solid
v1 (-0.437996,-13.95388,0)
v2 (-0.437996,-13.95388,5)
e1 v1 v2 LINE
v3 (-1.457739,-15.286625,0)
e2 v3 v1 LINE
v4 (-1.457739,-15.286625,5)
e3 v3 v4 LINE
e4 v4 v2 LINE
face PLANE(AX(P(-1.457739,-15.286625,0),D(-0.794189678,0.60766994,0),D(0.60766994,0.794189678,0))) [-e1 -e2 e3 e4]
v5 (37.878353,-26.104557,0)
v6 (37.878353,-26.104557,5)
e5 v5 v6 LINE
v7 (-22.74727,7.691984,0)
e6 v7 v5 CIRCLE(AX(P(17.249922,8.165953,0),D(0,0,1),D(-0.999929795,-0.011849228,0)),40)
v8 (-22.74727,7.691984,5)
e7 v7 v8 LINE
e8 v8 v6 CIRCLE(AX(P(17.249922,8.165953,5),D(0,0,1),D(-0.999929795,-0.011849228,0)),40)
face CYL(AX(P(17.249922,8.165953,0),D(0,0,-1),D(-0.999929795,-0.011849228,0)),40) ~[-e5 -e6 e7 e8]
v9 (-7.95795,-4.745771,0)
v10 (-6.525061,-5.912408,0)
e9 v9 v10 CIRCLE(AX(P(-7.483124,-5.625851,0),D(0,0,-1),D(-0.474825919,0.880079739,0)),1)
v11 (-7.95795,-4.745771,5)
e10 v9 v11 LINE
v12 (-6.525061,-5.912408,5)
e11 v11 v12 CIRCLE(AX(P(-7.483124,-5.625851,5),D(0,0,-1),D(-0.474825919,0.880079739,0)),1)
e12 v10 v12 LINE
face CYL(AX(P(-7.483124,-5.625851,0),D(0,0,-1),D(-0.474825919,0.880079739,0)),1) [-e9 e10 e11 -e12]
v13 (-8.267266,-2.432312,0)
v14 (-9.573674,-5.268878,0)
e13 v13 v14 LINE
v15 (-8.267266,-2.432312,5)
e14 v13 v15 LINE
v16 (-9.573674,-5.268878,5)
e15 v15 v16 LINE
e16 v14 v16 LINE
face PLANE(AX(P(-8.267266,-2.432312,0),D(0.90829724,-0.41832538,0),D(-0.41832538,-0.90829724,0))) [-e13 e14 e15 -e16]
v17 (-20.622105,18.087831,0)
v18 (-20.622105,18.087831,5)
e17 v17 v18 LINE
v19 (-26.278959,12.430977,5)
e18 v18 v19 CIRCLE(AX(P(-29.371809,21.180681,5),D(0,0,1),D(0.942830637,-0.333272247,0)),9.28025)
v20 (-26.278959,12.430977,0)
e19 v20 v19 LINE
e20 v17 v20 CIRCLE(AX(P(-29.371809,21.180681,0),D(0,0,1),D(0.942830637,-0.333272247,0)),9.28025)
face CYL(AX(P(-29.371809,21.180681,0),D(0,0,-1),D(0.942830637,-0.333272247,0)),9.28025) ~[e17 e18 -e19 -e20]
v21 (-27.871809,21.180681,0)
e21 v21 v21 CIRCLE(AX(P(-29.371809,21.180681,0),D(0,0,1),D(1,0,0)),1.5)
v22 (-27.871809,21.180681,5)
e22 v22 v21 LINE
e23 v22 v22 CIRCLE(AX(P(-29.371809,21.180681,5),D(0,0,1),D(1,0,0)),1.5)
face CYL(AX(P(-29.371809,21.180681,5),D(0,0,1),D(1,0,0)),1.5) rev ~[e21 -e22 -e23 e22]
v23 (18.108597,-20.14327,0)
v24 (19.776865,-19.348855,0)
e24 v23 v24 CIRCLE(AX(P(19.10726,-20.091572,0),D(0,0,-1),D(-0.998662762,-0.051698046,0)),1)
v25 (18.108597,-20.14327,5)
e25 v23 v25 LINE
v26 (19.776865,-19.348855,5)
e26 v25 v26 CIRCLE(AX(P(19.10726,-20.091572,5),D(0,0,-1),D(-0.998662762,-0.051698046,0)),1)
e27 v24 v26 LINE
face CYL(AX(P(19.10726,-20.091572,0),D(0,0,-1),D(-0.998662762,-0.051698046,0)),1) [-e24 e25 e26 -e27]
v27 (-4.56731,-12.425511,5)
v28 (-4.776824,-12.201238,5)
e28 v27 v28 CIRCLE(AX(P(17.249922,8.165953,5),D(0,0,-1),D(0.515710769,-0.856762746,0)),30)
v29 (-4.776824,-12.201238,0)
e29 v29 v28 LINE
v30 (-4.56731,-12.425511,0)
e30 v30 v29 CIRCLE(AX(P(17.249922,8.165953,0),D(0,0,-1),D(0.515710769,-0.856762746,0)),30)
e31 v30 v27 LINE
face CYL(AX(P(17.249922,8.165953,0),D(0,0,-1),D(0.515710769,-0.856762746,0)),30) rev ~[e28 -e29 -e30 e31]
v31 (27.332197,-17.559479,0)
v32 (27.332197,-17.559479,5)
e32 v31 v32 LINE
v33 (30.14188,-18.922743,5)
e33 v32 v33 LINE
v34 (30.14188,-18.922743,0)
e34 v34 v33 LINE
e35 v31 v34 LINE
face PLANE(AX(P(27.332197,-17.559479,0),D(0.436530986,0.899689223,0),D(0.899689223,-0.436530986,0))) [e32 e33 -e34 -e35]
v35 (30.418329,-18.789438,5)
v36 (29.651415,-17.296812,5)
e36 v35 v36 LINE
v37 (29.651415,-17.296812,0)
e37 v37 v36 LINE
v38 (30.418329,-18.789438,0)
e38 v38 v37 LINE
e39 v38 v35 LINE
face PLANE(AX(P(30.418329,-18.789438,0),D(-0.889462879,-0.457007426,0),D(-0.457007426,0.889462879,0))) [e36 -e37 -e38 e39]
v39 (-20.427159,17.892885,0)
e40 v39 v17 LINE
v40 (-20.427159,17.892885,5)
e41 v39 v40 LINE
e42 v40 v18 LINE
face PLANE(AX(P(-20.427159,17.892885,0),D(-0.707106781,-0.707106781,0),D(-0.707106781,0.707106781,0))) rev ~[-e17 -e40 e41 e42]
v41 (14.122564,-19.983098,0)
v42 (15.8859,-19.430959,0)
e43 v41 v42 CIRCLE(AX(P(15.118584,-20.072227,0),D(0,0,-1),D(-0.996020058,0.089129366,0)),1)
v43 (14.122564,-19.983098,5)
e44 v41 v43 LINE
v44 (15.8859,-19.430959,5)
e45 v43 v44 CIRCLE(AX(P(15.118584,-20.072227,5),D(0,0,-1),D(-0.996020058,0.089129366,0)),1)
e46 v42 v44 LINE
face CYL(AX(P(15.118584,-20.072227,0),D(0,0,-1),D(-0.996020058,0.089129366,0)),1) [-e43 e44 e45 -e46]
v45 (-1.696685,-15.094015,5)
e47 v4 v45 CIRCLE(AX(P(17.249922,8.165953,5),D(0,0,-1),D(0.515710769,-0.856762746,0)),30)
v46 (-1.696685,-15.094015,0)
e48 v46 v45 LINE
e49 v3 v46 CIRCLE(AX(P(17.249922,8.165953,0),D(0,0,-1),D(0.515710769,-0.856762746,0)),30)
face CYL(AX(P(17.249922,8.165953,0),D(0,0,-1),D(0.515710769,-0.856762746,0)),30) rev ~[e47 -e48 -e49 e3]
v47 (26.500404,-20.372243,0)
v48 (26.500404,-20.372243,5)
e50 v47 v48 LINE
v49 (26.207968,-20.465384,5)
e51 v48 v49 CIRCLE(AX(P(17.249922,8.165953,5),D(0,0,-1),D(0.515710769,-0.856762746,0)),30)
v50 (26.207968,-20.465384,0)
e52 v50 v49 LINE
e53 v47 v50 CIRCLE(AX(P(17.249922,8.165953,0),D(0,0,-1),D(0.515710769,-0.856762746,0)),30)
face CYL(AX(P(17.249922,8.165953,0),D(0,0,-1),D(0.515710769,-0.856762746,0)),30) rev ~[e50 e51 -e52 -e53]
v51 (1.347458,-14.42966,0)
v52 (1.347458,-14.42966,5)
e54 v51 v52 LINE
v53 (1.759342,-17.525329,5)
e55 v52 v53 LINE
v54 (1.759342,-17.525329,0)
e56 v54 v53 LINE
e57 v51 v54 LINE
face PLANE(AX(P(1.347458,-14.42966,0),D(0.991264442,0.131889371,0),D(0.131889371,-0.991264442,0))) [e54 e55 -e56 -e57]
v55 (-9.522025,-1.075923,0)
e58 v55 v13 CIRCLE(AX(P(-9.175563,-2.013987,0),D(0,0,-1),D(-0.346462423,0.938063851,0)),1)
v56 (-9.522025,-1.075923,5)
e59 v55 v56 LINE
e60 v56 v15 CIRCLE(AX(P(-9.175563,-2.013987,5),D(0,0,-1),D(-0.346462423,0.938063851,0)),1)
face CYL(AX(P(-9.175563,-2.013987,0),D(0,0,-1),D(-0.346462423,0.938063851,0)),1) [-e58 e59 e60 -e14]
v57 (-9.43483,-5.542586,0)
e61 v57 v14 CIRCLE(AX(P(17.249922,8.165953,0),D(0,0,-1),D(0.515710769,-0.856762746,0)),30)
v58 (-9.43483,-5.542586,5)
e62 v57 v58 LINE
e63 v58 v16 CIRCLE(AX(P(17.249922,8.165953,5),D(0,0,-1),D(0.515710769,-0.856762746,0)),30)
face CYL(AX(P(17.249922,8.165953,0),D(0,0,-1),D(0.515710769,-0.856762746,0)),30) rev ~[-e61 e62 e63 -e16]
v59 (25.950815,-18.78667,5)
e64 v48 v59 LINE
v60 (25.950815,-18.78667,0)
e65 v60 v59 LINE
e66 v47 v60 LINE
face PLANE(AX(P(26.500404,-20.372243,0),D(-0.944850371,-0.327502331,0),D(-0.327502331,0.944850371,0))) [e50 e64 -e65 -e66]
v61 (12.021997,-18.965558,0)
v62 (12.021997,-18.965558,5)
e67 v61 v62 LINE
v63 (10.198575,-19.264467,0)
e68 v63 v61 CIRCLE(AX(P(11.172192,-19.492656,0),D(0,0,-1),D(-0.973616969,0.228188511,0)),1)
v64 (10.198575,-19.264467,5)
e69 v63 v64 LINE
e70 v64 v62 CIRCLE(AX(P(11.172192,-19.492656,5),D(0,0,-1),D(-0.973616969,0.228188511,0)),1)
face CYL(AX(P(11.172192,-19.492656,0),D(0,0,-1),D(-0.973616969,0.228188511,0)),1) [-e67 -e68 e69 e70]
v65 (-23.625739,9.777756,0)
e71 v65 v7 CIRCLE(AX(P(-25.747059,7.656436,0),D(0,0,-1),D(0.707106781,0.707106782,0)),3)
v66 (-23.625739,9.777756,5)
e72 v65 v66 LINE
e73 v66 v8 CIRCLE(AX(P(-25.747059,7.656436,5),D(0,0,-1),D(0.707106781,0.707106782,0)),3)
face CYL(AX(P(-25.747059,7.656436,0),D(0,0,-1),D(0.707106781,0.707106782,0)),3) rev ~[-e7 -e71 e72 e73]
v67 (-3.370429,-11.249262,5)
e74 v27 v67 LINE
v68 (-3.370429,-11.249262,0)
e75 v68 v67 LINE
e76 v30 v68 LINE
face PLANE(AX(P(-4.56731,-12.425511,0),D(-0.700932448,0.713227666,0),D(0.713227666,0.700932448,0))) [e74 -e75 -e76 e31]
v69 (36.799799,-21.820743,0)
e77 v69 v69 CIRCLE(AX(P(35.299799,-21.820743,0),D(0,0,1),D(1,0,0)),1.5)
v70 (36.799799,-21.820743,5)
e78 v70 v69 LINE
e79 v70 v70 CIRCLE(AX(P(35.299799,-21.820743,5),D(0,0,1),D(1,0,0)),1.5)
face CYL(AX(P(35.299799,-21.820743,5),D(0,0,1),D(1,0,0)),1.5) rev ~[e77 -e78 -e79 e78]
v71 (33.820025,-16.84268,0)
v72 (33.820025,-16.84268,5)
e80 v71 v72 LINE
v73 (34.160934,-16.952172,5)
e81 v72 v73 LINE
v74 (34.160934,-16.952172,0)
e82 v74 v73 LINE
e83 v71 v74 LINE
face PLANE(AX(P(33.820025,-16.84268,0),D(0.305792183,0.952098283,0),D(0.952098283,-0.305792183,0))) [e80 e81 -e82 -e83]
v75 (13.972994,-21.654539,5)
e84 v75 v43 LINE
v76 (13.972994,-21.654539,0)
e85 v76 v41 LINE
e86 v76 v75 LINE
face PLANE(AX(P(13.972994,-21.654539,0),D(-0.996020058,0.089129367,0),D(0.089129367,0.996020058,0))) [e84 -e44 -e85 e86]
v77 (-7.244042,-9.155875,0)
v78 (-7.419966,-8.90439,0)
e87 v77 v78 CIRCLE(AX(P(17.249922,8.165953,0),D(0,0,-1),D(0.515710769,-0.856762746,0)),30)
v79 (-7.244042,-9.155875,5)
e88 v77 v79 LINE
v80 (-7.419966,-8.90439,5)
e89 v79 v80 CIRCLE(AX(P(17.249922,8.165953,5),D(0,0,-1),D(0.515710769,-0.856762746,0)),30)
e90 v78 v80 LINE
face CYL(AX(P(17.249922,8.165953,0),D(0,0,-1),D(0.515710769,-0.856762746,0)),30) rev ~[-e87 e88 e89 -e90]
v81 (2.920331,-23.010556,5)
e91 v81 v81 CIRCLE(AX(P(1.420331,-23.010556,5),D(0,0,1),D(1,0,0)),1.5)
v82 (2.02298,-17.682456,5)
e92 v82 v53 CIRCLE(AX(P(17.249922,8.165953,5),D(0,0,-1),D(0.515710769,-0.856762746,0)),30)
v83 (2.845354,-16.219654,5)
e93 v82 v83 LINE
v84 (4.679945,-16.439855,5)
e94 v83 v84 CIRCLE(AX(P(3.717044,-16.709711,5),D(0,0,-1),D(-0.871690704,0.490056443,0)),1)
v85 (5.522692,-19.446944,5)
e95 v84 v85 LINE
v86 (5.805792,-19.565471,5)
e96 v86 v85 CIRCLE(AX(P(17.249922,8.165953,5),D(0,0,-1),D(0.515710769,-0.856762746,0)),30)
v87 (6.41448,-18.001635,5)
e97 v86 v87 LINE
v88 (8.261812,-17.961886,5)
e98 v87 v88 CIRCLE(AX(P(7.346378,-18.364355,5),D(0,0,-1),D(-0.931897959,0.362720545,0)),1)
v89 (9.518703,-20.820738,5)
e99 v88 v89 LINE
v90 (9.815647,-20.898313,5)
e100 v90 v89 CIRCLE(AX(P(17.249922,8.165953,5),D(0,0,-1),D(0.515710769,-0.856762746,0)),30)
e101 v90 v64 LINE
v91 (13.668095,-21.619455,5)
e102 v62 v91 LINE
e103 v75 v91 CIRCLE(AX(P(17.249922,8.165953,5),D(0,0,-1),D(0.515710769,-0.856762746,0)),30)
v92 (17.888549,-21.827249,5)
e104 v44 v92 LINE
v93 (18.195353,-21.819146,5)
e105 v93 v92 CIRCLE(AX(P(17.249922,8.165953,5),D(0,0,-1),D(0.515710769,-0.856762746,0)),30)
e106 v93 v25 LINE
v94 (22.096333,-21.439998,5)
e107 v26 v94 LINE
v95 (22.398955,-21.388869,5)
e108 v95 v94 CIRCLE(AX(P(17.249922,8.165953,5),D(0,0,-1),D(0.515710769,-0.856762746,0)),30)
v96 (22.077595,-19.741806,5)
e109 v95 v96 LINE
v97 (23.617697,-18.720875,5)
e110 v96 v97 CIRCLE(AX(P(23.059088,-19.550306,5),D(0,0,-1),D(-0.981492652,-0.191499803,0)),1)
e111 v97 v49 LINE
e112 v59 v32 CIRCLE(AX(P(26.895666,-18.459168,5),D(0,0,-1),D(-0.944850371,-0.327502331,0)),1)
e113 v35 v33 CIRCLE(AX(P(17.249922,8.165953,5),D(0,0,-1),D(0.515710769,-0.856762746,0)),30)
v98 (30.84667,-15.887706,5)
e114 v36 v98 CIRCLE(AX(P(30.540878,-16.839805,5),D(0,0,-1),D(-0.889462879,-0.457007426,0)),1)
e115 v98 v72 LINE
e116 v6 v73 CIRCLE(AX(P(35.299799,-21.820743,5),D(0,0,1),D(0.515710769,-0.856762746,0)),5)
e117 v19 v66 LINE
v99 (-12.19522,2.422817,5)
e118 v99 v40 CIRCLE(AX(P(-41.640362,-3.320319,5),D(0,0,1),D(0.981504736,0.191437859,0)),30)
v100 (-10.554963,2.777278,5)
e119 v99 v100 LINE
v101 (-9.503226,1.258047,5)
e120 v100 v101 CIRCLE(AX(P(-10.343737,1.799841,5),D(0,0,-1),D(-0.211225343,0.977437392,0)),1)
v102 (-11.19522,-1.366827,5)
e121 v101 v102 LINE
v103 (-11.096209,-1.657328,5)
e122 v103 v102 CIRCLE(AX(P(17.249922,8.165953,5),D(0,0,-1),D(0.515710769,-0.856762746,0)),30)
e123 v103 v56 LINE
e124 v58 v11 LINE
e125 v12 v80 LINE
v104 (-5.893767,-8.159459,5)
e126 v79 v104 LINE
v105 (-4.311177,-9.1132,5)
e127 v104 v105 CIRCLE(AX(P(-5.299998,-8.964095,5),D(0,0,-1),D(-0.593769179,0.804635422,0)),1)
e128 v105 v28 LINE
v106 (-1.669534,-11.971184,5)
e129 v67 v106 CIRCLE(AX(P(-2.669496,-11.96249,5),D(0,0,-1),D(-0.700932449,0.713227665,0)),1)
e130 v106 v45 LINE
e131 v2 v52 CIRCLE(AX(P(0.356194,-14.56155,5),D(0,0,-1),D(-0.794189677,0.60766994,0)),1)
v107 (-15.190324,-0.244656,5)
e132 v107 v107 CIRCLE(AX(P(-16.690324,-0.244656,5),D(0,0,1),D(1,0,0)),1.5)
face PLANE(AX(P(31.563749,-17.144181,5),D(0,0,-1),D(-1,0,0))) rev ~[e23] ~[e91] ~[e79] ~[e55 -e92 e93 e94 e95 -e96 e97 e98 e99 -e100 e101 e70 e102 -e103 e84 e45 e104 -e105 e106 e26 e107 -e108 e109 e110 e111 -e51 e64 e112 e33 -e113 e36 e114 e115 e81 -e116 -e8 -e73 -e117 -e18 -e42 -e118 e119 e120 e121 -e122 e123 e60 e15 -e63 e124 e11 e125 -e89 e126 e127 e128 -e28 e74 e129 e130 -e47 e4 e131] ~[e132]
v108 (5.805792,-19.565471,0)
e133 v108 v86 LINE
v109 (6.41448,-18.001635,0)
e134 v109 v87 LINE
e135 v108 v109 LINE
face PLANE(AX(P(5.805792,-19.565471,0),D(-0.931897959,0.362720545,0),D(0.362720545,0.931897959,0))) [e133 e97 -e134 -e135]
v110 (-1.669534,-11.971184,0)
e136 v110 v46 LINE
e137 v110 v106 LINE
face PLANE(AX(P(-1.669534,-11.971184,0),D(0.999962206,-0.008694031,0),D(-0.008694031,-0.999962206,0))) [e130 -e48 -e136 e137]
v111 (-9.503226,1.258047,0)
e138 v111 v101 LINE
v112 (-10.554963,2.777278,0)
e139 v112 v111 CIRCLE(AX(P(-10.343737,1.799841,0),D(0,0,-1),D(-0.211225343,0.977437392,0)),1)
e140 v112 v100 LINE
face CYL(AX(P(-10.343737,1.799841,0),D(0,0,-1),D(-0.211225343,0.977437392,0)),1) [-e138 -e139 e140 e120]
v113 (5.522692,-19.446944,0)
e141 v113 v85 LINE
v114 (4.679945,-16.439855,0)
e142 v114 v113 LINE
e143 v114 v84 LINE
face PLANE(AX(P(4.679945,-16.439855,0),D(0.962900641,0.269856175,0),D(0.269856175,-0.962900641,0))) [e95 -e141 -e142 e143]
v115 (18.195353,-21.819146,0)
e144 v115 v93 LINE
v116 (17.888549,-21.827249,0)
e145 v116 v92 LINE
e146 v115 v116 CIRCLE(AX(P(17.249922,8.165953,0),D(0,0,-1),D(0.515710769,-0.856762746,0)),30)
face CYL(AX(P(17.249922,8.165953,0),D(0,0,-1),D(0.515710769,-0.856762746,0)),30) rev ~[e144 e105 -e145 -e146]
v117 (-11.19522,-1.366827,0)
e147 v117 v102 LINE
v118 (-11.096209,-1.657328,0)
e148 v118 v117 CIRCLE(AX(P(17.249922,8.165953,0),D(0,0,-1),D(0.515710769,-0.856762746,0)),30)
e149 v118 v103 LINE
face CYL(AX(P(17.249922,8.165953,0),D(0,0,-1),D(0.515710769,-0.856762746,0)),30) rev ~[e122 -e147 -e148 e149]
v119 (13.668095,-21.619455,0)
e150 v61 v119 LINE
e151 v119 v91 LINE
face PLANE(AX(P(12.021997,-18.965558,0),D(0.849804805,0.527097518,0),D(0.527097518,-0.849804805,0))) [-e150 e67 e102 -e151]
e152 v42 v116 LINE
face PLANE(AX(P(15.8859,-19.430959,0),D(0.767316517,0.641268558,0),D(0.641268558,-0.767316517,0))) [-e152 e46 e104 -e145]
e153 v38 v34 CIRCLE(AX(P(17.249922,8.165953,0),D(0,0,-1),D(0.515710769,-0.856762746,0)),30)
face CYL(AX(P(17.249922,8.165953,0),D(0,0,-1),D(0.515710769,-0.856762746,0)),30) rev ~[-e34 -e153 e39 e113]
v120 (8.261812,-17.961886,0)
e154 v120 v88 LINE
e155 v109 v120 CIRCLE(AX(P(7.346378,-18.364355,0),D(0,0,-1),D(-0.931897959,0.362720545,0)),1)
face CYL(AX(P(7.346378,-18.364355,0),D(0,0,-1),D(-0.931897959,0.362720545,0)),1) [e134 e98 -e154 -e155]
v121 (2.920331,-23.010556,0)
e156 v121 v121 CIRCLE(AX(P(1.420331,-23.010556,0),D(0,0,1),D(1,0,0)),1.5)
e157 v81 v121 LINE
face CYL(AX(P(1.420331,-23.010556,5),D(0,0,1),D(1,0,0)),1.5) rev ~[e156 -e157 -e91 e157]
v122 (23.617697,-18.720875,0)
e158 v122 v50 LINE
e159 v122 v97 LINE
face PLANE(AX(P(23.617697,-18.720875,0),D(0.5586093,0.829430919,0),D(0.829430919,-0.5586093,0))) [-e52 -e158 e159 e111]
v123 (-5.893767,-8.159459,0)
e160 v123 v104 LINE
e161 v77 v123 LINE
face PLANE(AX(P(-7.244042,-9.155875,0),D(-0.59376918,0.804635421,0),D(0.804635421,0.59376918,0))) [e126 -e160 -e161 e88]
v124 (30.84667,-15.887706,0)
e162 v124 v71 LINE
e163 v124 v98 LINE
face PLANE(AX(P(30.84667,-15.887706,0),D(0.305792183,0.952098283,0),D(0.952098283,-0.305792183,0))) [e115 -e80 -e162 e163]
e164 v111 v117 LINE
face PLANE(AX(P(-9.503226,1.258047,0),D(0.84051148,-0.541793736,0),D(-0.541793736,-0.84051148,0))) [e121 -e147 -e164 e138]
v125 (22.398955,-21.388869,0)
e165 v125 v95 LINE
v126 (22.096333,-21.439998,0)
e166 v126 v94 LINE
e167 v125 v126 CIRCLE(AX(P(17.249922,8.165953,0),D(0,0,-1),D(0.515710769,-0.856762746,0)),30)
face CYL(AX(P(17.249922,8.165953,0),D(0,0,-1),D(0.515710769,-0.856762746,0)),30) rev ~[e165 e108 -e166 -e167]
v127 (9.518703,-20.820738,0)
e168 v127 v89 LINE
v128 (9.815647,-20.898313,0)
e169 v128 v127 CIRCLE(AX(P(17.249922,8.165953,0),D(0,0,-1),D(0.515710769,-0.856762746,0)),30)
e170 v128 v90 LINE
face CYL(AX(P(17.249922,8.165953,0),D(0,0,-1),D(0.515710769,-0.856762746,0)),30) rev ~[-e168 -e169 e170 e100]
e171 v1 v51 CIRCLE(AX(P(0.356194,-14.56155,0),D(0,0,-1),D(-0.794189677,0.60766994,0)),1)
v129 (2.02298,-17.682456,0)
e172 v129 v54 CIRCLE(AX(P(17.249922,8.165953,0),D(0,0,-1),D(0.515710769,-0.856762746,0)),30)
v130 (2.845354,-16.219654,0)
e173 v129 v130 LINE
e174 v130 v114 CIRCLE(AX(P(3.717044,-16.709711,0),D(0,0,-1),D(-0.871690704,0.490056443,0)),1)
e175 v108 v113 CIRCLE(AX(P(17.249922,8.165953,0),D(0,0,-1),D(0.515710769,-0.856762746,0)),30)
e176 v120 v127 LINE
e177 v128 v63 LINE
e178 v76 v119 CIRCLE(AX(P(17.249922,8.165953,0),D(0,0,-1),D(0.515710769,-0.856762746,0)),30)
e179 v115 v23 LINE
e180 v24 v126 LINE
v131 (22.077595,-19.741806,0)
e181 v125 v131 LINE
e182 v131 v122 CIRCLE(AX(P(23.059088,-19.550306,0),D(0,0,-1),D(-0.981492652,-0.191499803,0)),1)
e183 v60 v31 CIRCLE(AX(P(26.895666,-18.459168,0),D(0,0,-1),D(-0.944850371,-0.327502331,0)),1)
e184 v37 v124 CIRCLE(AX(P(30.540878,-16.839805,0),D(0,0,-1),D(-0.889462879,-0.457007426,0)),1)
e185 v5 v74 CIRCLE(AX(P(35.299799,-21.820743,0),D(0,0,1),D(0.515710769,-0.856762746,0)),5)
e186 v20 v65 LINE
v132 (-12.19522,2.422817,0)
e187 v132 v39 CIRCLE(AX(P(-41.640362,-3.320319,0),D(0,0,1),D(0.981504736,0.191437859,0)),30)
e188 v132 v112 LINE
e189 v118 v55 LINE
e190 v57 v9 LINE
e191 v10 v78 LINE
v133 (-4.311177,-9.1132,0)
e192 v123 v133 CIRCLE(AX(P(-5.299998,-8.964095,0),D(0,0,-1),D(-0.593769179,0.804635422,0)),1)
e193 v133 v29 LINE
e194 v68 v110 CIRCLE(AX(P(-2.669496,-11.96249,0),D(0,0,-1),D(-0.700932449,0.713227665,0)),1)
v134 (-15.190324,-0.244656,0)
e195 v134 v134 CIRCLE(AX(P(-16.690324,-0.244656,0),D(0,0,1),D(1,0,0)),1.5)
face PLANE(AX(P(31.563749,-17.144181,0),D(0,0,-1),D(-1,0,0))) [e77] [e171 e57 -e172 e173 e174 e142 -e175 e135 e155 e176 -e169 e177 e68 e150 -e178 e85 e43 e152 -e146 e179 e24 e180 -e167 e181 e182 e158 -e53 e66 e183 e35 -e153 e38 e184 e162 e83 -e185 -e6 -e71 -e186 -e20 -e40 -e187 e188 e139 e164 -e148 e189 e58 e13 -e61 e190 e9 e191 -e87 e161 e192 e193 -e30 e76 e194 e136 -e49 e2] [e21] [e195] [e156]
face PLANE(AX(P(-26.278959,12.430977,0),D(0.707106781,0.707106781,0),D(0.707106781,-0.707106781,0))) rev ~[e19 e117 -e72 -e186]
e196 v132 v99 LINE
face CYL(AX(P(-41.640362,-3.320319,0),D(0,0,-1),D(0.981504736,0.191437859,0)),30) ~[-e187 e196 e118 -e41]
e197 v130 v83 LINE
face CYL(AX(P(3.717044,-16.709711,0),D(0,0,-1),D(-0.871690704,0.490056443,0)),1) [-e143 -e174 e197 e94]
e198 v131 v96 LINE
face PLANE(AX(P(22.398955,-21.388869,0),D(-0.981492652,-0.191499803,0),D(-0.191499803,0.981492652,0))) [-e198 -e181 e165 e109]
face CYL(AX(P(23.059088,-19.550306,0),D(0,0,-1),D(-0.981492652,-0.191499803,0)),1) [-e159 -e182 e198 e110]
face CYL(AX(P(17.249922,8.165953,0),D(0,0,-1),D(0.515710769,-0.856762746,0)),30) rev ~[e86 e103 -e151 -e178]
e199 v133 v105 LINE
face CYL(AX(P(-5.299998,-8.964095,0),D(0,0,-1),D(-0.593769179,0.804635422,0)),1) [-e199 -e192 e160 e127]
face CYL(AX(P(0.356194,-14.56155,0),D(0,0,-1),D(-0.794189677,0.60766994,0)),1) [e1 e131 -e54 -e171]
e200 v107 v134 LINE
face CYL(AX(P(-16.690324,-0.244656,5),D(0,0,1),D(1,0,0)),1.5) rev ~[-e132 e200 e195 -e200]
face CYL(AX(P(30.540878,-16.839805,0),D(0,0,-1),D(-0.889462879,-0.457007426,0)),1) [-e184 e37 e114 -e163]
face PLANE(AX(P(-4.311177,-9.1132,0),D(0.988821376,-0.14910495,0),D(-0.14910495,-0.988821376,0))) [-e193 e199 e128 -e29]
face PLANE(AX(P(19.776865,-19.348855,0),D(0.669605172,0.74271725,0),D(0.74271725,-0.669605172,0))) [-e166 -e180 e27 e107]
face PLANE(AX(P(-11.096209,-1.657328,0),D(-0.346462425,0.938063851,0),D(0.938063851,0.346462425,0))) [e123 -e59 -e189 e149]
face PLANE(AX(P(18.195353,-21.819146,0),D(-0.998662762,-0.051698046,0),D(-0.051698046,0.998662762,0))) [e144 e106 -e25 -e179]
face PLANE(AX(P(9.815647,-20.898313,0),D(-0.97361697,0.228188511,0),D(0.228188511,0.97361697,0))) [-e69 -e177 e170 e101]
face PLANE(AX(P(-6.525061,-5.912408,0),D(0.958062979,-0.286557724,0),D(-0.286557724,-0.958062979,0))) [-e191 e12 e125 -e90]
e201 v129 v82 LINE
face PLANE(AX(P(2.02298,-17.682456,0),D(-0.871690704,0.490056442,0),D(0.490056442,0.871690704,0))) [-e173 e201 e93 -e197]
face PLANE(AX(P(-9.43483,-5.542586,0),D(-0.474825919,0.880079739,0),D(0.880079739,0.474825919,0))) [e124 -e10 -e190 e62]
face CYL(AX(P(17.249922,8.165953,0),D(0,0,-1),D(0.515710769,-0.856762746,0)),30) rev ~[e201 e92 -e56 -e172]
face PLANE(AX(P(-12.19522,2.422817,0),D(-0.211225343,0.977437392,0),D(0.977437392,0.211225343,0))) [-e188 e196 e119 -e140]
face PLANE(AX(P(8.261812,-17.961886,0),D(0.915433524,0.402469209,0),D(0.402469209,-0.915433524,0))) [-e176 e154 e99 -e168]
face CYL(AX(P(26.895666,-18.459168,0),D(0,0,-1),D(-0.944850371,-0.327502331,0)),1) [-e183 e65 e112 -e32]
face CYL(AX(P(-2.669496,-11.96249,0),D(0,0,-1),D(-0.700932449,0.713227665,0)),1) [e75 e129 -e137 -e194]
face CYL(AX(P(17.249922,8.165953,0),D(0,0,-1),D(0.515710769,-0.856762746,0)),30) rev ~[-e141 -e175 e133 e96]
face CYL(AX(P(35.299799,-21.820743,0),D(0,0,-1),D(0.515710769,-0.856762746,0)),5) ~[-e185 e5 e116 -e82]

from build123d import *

# Parameters (mm, degrees)
ESQUISSE1_R             = 3.5
BOSS_EXTRU_1_DEPTH      = 5
ESQUISSE2_R             = 3.5
ESQUISSE2_R_2           = 1.5
BOSS_EXTRU_2_DEPTH      = 5
ESQUISSE3_R             = 1.5
ENL_V_MAT_EXTRU_1_DEPTH = 52.599228309
BOSS_EXTRU_3_DEPTH      = 5


with BuildPart() as part:
    # Esquisse1 → Boss.-Extru.1 (new body)
    with BuildSketch(Plane.XY):
        with BuildLine():
            Line((-26.278959381, 12.43097678), (-23.625738837, 9.777756236))
            ThreePointArc((-23.625738837, 9.777756236), (-22.982271103, 8.820887218), (-22.747269794, 7.691983578))
            ThreePointArc((-22.747269794, 7.691983578), (-2.226699014, -26.772009928), (37.87835279, -26.104557126))
            ThreePointArc((37.87835279, -26.104557126), (39.583612673, -19.242189551), (32.721245099, -17.536929668))
            ThreePointArc((32.721245099, -17.536929668), (5.06736173, -19.249102003), (-12.195220044, 2.422816923))
            ThreePointArc((-12.195220044, 2.422816923), (-15.15644736, 10.772312527), (-20.427158676, 17.892884575))
            Line((-20.427158676, 17.892884575), (-20.622105131, 18.08783103))
            ThreePointArc((-20.622105131, 18.08783103), (-35.933936854, 27.742808503), (-26.278959381, 12.43097678))
        make_face()
        with Locations((-29.371809148, 21.180680797)):
            Circle(ESQUISSE1_R, mode=Mode.SUBTRACT)
    extrude(amount=BOSS_EXTRU_1_DEPTH)

    # Esquisse2 → Boss.-Extru.2 (add, through all)
    with BuildSketch(Plane.XY.offset(5)):
        with Locations((-29.371809148, 21.180680797)):
            Circle(ESQUISSE2_R)
        with Locations((-29.371809148, 21.180680797)):
            Circle(ESQUISSE2_R_2, mode=Mode.SUBTRACT)
    extrude(amount=-BOSS_EXTRU_2_DEPTH)

    # Esquisse3 → Enlèv. mat.-Extru.1 (cut, through all)
    with BuildSketch(Plane.XY.offset(5)):
        with Locations((35.299798944, -21.820743397)):
            Circle(ESQUISSE3_R)
        with Locations((1.420331358, -23.010555966)):
            Circle(ESQUISSE3_R)
        with Locations((-16.690323797, -0.244656241)):
            Circle(ESQUISSE3_R)
    extrude(amount=-ENL_V_MAT_EXTRU_1_DEPTH, mode=Mode.SUBTRACT)

    # Esquisse4 → Boss.-Extru.3 (add, through all)
    with BuildSketch(Plane(origin=(0, 0, 0), x_dir=(-1, 0, 0), z_dir=(0, 0, -1))):
        with BuildLine():
            ThreePointArc((-32.721245099, -17.536929668), (-31.583474438, -18.188350077), (-30.418328753, -18.789437557))
            Line((-30.418328753, -18.789437557), (-29.651415378, -17.296811968))
            ThreePointArc((-29.651415378, -17.296811968), (-29.778275742, -16.192937164), (-30.846670439, -15.887706259))
            Line((-30.846670439, -15.887706259), (-33.82002484, -16.842679657))
            Line((-33.82002484, -16.842679657), (-34.160934368, -16.952171997))
            ThreePointArc((-34.160934368, -16.952171997), (-33.418234352, -17.188280263), (-32.721245099, -17.536929668))
        make_face()
        with BuildLine():
            ThreePointArc((-30.141880226, -18.922742606), (-28.344838513, -19.707023958), (-26.500403555, -20.372242602))
            Line((-26.500403555, -20.372242602), (-25.950815291, -18.786670146))
            ThreePointArc((-25.950815291, -18.786670146), (-26.231514379, -17.711569612), (-27.332196648, -17.559478592))
            Line((-27.332196648, -17.559478592), (-30.141880226, -18.922742606))
        make_face()
        with BuildLine():
            ThreePointArc((-26.207967618, -20.465383608), (-24.318558502, -20.989396346), (-22.398954871, -21.388868572))
            Line((-22.398954871, -21.388868572), (-22.07759519, -19.741805965))
            ThreePointArc((-22.07759519, -19.741805965), (-22.506564116, -18.716808992), (-23.617697141, -18.720875242))
            Line((-23.617697141, -18.720875242), (-26.207967618, -20.465383608))
        make_face()
        with BuildLine():
            ThreePointArc((-22.096333261, -21.439997678), (-20.152041379, -21.693345733), (-18.195352752, -21.819146273))
            Line((-18.195352752, -21.819146273), (-18.108597219, -20.143270158))
            ThreePointArc((-18.108597219, -20.143270158), (-18.677325521, -19.188712012), (-19.776865153, -19.348854862))
            Line((-19.776865153, -19.348854862), (-22.096333261, -21.439997678))
        make_face()
        with BuildLine():
            ThreePointArc((-17.888549284, -21.827249111), (-15.927948113, -21.804906224), (-13.972993908, -21.654539278))
            Line((-13.972993908, -21.654539278), (-14.122563696, -19.983097938))
            ThreePointArc((-14.122563696, -19.983097938), (-14.819768177, -19.117916427), (-15.88590027, -19.430958747))
            Line((-15.88590027, -19.430958747), (-17.888549284, -21.827249111))
        make_face()
        with BuildLine():
            ThreePointArc((-13.668095361, -21.619455093), (-11.730081941, -21.321864532), (-9.815647169, -20.898313282))
            Line((-9.815647169, -20.898313282), (-10.19857491, -19.264467016))
            ThreePointArc((-10.19857491, -19.264467016), (-11.010423491, -18.505826774), (-12.021996685, -18.96555801))
            Line((-12.021996685, -18.96555801), (-13.668095361, -21.619455093))
        make_face()
        with BuildLine():
            ThreePointArc((-9.51870253, -20.820738122), (-7.641725776, -20.253803889), (-5.805791566, -19.565471313))
            Line((-5.805791566, -19.565471313), (-6.414480226, -18.00163456))
            ThreePointArc((-6.414480226, -18.00163456), (-7.324866364, -17.364586511), (-8.261811709, -17.961885897))
            Line((-8.261811709, -17.961885897), (-9.51870253, -20.820738122))
        make_face()
        with BuildLine():
            ThreePointArc((-5.522692022, -19.446944218), (-3.743989923, -18.621913915), (-2.022980005, -17.68245608))
            Line((-2.022980005, -17.68245608), (-2.8453536, -16.219654336))
            ThreePointArc((-2.8453536, -16.219654336), (-3.836215831, -15.716837097), (-4.679944946, -16.439854603))
            Line((-4.679944946, -16.439854603), (-5.522692022, -19.446944218))
        make_face()
        with BuildLine():
            ThreePointArc((-1.759342065, -17.52532855), (-0.114202903, -16.458570238), (1.457739014, -15.286625373))
            Line((1.457739014, -15.286625373), (0.437995836, -13.953879663))
            ThreePointArc((0.437995836, -13.953879663), (-0.61368443, -13.595268797), (-1.347458283, -14.429660233))
            Line((-1.347458283, -14.429660233), (-1.759342065, -17.52532855))
        make_face()
        with BuildLine():
            Line((9.503225829, 1.258047301), (11.195220044, -1.366827201))
            ThreePointArc((11.195220044, -1.366827201), (11.75717366, 0.511646725), (12.195220044, 2.422816923))
            Line((12.195220044, 2.422816923), (10.554962651, 2.777278429))
            ThreePointArc((10.554962651, 2.777278429), (9.521535347, 2.369036904), (9.503225829, 1.258047301))
        make_face()
        with BuildLine():
            ThreePointArc((9.573674437, -5.268877882), (10.393983884, -3.487993672), (11.096209126, -1.657328255))
            Line((11.096209126, -1.657328255), (9.522025266, -1.075922675))
            ThreePointArc((9.522025266, -1.075922675), (8.44149028, -1.334915489), (8.267265601, -2.432311906))
            Line((8.267265601, -2.432311906), (9.573674437, -5.268877882))
        make_face()
        with BuildLine():
            ThreePointArc((7.419966271, -8.904390336), (8.482357148, -7.256427417), (9.43482956, -5.542585982))
            Line((9.43482956, -5.542585982), (7.957950007, -4.745771034))
            ThreePointArc((7.957950007, -4.745771034), (6.851744443, -4.850376889), (6.525061109, -5.912408496))
            Line((6.525061109, -5.912408496), (7.419966271, -8.904390336))
        make_face()
        with BuildLine():
            ThreePointArc((4.776823702, -12.201238381), (6.060218871, -10.718891256), (7.244042024, -9.155875293))
            Line((7.244042024, -9.155875293), (5.893767102, -8.159459262))
            ThreePointArc((5.893767102, -8.159459262), (4.783837353, -8.107602847), (4.311176546, -9.113199633))
            Line((4.311176546, -9.113199633), (4.776823702, -12.201238381))
        make_face()
        with BuildLine():
            ThreePointArc((1.696684946, -15.094014714), (3.175622689, -13.806692179), (4.567310309, -12.425510899))
            Line((4.567310309, -12.425510899), (3.370428584, -11.249262026))
            ThreePointArc((3.370428584, -11.249262026), (2.278794929, -11.041972137), (1.66953393, -11.971183722))
            Line((1.66953393, -11.971183722), (1.696684946, -15.094014714))
        make_face()
    extrude(amount=-BOSS_EXTRU_3_DEPTH)


solid = part.part
